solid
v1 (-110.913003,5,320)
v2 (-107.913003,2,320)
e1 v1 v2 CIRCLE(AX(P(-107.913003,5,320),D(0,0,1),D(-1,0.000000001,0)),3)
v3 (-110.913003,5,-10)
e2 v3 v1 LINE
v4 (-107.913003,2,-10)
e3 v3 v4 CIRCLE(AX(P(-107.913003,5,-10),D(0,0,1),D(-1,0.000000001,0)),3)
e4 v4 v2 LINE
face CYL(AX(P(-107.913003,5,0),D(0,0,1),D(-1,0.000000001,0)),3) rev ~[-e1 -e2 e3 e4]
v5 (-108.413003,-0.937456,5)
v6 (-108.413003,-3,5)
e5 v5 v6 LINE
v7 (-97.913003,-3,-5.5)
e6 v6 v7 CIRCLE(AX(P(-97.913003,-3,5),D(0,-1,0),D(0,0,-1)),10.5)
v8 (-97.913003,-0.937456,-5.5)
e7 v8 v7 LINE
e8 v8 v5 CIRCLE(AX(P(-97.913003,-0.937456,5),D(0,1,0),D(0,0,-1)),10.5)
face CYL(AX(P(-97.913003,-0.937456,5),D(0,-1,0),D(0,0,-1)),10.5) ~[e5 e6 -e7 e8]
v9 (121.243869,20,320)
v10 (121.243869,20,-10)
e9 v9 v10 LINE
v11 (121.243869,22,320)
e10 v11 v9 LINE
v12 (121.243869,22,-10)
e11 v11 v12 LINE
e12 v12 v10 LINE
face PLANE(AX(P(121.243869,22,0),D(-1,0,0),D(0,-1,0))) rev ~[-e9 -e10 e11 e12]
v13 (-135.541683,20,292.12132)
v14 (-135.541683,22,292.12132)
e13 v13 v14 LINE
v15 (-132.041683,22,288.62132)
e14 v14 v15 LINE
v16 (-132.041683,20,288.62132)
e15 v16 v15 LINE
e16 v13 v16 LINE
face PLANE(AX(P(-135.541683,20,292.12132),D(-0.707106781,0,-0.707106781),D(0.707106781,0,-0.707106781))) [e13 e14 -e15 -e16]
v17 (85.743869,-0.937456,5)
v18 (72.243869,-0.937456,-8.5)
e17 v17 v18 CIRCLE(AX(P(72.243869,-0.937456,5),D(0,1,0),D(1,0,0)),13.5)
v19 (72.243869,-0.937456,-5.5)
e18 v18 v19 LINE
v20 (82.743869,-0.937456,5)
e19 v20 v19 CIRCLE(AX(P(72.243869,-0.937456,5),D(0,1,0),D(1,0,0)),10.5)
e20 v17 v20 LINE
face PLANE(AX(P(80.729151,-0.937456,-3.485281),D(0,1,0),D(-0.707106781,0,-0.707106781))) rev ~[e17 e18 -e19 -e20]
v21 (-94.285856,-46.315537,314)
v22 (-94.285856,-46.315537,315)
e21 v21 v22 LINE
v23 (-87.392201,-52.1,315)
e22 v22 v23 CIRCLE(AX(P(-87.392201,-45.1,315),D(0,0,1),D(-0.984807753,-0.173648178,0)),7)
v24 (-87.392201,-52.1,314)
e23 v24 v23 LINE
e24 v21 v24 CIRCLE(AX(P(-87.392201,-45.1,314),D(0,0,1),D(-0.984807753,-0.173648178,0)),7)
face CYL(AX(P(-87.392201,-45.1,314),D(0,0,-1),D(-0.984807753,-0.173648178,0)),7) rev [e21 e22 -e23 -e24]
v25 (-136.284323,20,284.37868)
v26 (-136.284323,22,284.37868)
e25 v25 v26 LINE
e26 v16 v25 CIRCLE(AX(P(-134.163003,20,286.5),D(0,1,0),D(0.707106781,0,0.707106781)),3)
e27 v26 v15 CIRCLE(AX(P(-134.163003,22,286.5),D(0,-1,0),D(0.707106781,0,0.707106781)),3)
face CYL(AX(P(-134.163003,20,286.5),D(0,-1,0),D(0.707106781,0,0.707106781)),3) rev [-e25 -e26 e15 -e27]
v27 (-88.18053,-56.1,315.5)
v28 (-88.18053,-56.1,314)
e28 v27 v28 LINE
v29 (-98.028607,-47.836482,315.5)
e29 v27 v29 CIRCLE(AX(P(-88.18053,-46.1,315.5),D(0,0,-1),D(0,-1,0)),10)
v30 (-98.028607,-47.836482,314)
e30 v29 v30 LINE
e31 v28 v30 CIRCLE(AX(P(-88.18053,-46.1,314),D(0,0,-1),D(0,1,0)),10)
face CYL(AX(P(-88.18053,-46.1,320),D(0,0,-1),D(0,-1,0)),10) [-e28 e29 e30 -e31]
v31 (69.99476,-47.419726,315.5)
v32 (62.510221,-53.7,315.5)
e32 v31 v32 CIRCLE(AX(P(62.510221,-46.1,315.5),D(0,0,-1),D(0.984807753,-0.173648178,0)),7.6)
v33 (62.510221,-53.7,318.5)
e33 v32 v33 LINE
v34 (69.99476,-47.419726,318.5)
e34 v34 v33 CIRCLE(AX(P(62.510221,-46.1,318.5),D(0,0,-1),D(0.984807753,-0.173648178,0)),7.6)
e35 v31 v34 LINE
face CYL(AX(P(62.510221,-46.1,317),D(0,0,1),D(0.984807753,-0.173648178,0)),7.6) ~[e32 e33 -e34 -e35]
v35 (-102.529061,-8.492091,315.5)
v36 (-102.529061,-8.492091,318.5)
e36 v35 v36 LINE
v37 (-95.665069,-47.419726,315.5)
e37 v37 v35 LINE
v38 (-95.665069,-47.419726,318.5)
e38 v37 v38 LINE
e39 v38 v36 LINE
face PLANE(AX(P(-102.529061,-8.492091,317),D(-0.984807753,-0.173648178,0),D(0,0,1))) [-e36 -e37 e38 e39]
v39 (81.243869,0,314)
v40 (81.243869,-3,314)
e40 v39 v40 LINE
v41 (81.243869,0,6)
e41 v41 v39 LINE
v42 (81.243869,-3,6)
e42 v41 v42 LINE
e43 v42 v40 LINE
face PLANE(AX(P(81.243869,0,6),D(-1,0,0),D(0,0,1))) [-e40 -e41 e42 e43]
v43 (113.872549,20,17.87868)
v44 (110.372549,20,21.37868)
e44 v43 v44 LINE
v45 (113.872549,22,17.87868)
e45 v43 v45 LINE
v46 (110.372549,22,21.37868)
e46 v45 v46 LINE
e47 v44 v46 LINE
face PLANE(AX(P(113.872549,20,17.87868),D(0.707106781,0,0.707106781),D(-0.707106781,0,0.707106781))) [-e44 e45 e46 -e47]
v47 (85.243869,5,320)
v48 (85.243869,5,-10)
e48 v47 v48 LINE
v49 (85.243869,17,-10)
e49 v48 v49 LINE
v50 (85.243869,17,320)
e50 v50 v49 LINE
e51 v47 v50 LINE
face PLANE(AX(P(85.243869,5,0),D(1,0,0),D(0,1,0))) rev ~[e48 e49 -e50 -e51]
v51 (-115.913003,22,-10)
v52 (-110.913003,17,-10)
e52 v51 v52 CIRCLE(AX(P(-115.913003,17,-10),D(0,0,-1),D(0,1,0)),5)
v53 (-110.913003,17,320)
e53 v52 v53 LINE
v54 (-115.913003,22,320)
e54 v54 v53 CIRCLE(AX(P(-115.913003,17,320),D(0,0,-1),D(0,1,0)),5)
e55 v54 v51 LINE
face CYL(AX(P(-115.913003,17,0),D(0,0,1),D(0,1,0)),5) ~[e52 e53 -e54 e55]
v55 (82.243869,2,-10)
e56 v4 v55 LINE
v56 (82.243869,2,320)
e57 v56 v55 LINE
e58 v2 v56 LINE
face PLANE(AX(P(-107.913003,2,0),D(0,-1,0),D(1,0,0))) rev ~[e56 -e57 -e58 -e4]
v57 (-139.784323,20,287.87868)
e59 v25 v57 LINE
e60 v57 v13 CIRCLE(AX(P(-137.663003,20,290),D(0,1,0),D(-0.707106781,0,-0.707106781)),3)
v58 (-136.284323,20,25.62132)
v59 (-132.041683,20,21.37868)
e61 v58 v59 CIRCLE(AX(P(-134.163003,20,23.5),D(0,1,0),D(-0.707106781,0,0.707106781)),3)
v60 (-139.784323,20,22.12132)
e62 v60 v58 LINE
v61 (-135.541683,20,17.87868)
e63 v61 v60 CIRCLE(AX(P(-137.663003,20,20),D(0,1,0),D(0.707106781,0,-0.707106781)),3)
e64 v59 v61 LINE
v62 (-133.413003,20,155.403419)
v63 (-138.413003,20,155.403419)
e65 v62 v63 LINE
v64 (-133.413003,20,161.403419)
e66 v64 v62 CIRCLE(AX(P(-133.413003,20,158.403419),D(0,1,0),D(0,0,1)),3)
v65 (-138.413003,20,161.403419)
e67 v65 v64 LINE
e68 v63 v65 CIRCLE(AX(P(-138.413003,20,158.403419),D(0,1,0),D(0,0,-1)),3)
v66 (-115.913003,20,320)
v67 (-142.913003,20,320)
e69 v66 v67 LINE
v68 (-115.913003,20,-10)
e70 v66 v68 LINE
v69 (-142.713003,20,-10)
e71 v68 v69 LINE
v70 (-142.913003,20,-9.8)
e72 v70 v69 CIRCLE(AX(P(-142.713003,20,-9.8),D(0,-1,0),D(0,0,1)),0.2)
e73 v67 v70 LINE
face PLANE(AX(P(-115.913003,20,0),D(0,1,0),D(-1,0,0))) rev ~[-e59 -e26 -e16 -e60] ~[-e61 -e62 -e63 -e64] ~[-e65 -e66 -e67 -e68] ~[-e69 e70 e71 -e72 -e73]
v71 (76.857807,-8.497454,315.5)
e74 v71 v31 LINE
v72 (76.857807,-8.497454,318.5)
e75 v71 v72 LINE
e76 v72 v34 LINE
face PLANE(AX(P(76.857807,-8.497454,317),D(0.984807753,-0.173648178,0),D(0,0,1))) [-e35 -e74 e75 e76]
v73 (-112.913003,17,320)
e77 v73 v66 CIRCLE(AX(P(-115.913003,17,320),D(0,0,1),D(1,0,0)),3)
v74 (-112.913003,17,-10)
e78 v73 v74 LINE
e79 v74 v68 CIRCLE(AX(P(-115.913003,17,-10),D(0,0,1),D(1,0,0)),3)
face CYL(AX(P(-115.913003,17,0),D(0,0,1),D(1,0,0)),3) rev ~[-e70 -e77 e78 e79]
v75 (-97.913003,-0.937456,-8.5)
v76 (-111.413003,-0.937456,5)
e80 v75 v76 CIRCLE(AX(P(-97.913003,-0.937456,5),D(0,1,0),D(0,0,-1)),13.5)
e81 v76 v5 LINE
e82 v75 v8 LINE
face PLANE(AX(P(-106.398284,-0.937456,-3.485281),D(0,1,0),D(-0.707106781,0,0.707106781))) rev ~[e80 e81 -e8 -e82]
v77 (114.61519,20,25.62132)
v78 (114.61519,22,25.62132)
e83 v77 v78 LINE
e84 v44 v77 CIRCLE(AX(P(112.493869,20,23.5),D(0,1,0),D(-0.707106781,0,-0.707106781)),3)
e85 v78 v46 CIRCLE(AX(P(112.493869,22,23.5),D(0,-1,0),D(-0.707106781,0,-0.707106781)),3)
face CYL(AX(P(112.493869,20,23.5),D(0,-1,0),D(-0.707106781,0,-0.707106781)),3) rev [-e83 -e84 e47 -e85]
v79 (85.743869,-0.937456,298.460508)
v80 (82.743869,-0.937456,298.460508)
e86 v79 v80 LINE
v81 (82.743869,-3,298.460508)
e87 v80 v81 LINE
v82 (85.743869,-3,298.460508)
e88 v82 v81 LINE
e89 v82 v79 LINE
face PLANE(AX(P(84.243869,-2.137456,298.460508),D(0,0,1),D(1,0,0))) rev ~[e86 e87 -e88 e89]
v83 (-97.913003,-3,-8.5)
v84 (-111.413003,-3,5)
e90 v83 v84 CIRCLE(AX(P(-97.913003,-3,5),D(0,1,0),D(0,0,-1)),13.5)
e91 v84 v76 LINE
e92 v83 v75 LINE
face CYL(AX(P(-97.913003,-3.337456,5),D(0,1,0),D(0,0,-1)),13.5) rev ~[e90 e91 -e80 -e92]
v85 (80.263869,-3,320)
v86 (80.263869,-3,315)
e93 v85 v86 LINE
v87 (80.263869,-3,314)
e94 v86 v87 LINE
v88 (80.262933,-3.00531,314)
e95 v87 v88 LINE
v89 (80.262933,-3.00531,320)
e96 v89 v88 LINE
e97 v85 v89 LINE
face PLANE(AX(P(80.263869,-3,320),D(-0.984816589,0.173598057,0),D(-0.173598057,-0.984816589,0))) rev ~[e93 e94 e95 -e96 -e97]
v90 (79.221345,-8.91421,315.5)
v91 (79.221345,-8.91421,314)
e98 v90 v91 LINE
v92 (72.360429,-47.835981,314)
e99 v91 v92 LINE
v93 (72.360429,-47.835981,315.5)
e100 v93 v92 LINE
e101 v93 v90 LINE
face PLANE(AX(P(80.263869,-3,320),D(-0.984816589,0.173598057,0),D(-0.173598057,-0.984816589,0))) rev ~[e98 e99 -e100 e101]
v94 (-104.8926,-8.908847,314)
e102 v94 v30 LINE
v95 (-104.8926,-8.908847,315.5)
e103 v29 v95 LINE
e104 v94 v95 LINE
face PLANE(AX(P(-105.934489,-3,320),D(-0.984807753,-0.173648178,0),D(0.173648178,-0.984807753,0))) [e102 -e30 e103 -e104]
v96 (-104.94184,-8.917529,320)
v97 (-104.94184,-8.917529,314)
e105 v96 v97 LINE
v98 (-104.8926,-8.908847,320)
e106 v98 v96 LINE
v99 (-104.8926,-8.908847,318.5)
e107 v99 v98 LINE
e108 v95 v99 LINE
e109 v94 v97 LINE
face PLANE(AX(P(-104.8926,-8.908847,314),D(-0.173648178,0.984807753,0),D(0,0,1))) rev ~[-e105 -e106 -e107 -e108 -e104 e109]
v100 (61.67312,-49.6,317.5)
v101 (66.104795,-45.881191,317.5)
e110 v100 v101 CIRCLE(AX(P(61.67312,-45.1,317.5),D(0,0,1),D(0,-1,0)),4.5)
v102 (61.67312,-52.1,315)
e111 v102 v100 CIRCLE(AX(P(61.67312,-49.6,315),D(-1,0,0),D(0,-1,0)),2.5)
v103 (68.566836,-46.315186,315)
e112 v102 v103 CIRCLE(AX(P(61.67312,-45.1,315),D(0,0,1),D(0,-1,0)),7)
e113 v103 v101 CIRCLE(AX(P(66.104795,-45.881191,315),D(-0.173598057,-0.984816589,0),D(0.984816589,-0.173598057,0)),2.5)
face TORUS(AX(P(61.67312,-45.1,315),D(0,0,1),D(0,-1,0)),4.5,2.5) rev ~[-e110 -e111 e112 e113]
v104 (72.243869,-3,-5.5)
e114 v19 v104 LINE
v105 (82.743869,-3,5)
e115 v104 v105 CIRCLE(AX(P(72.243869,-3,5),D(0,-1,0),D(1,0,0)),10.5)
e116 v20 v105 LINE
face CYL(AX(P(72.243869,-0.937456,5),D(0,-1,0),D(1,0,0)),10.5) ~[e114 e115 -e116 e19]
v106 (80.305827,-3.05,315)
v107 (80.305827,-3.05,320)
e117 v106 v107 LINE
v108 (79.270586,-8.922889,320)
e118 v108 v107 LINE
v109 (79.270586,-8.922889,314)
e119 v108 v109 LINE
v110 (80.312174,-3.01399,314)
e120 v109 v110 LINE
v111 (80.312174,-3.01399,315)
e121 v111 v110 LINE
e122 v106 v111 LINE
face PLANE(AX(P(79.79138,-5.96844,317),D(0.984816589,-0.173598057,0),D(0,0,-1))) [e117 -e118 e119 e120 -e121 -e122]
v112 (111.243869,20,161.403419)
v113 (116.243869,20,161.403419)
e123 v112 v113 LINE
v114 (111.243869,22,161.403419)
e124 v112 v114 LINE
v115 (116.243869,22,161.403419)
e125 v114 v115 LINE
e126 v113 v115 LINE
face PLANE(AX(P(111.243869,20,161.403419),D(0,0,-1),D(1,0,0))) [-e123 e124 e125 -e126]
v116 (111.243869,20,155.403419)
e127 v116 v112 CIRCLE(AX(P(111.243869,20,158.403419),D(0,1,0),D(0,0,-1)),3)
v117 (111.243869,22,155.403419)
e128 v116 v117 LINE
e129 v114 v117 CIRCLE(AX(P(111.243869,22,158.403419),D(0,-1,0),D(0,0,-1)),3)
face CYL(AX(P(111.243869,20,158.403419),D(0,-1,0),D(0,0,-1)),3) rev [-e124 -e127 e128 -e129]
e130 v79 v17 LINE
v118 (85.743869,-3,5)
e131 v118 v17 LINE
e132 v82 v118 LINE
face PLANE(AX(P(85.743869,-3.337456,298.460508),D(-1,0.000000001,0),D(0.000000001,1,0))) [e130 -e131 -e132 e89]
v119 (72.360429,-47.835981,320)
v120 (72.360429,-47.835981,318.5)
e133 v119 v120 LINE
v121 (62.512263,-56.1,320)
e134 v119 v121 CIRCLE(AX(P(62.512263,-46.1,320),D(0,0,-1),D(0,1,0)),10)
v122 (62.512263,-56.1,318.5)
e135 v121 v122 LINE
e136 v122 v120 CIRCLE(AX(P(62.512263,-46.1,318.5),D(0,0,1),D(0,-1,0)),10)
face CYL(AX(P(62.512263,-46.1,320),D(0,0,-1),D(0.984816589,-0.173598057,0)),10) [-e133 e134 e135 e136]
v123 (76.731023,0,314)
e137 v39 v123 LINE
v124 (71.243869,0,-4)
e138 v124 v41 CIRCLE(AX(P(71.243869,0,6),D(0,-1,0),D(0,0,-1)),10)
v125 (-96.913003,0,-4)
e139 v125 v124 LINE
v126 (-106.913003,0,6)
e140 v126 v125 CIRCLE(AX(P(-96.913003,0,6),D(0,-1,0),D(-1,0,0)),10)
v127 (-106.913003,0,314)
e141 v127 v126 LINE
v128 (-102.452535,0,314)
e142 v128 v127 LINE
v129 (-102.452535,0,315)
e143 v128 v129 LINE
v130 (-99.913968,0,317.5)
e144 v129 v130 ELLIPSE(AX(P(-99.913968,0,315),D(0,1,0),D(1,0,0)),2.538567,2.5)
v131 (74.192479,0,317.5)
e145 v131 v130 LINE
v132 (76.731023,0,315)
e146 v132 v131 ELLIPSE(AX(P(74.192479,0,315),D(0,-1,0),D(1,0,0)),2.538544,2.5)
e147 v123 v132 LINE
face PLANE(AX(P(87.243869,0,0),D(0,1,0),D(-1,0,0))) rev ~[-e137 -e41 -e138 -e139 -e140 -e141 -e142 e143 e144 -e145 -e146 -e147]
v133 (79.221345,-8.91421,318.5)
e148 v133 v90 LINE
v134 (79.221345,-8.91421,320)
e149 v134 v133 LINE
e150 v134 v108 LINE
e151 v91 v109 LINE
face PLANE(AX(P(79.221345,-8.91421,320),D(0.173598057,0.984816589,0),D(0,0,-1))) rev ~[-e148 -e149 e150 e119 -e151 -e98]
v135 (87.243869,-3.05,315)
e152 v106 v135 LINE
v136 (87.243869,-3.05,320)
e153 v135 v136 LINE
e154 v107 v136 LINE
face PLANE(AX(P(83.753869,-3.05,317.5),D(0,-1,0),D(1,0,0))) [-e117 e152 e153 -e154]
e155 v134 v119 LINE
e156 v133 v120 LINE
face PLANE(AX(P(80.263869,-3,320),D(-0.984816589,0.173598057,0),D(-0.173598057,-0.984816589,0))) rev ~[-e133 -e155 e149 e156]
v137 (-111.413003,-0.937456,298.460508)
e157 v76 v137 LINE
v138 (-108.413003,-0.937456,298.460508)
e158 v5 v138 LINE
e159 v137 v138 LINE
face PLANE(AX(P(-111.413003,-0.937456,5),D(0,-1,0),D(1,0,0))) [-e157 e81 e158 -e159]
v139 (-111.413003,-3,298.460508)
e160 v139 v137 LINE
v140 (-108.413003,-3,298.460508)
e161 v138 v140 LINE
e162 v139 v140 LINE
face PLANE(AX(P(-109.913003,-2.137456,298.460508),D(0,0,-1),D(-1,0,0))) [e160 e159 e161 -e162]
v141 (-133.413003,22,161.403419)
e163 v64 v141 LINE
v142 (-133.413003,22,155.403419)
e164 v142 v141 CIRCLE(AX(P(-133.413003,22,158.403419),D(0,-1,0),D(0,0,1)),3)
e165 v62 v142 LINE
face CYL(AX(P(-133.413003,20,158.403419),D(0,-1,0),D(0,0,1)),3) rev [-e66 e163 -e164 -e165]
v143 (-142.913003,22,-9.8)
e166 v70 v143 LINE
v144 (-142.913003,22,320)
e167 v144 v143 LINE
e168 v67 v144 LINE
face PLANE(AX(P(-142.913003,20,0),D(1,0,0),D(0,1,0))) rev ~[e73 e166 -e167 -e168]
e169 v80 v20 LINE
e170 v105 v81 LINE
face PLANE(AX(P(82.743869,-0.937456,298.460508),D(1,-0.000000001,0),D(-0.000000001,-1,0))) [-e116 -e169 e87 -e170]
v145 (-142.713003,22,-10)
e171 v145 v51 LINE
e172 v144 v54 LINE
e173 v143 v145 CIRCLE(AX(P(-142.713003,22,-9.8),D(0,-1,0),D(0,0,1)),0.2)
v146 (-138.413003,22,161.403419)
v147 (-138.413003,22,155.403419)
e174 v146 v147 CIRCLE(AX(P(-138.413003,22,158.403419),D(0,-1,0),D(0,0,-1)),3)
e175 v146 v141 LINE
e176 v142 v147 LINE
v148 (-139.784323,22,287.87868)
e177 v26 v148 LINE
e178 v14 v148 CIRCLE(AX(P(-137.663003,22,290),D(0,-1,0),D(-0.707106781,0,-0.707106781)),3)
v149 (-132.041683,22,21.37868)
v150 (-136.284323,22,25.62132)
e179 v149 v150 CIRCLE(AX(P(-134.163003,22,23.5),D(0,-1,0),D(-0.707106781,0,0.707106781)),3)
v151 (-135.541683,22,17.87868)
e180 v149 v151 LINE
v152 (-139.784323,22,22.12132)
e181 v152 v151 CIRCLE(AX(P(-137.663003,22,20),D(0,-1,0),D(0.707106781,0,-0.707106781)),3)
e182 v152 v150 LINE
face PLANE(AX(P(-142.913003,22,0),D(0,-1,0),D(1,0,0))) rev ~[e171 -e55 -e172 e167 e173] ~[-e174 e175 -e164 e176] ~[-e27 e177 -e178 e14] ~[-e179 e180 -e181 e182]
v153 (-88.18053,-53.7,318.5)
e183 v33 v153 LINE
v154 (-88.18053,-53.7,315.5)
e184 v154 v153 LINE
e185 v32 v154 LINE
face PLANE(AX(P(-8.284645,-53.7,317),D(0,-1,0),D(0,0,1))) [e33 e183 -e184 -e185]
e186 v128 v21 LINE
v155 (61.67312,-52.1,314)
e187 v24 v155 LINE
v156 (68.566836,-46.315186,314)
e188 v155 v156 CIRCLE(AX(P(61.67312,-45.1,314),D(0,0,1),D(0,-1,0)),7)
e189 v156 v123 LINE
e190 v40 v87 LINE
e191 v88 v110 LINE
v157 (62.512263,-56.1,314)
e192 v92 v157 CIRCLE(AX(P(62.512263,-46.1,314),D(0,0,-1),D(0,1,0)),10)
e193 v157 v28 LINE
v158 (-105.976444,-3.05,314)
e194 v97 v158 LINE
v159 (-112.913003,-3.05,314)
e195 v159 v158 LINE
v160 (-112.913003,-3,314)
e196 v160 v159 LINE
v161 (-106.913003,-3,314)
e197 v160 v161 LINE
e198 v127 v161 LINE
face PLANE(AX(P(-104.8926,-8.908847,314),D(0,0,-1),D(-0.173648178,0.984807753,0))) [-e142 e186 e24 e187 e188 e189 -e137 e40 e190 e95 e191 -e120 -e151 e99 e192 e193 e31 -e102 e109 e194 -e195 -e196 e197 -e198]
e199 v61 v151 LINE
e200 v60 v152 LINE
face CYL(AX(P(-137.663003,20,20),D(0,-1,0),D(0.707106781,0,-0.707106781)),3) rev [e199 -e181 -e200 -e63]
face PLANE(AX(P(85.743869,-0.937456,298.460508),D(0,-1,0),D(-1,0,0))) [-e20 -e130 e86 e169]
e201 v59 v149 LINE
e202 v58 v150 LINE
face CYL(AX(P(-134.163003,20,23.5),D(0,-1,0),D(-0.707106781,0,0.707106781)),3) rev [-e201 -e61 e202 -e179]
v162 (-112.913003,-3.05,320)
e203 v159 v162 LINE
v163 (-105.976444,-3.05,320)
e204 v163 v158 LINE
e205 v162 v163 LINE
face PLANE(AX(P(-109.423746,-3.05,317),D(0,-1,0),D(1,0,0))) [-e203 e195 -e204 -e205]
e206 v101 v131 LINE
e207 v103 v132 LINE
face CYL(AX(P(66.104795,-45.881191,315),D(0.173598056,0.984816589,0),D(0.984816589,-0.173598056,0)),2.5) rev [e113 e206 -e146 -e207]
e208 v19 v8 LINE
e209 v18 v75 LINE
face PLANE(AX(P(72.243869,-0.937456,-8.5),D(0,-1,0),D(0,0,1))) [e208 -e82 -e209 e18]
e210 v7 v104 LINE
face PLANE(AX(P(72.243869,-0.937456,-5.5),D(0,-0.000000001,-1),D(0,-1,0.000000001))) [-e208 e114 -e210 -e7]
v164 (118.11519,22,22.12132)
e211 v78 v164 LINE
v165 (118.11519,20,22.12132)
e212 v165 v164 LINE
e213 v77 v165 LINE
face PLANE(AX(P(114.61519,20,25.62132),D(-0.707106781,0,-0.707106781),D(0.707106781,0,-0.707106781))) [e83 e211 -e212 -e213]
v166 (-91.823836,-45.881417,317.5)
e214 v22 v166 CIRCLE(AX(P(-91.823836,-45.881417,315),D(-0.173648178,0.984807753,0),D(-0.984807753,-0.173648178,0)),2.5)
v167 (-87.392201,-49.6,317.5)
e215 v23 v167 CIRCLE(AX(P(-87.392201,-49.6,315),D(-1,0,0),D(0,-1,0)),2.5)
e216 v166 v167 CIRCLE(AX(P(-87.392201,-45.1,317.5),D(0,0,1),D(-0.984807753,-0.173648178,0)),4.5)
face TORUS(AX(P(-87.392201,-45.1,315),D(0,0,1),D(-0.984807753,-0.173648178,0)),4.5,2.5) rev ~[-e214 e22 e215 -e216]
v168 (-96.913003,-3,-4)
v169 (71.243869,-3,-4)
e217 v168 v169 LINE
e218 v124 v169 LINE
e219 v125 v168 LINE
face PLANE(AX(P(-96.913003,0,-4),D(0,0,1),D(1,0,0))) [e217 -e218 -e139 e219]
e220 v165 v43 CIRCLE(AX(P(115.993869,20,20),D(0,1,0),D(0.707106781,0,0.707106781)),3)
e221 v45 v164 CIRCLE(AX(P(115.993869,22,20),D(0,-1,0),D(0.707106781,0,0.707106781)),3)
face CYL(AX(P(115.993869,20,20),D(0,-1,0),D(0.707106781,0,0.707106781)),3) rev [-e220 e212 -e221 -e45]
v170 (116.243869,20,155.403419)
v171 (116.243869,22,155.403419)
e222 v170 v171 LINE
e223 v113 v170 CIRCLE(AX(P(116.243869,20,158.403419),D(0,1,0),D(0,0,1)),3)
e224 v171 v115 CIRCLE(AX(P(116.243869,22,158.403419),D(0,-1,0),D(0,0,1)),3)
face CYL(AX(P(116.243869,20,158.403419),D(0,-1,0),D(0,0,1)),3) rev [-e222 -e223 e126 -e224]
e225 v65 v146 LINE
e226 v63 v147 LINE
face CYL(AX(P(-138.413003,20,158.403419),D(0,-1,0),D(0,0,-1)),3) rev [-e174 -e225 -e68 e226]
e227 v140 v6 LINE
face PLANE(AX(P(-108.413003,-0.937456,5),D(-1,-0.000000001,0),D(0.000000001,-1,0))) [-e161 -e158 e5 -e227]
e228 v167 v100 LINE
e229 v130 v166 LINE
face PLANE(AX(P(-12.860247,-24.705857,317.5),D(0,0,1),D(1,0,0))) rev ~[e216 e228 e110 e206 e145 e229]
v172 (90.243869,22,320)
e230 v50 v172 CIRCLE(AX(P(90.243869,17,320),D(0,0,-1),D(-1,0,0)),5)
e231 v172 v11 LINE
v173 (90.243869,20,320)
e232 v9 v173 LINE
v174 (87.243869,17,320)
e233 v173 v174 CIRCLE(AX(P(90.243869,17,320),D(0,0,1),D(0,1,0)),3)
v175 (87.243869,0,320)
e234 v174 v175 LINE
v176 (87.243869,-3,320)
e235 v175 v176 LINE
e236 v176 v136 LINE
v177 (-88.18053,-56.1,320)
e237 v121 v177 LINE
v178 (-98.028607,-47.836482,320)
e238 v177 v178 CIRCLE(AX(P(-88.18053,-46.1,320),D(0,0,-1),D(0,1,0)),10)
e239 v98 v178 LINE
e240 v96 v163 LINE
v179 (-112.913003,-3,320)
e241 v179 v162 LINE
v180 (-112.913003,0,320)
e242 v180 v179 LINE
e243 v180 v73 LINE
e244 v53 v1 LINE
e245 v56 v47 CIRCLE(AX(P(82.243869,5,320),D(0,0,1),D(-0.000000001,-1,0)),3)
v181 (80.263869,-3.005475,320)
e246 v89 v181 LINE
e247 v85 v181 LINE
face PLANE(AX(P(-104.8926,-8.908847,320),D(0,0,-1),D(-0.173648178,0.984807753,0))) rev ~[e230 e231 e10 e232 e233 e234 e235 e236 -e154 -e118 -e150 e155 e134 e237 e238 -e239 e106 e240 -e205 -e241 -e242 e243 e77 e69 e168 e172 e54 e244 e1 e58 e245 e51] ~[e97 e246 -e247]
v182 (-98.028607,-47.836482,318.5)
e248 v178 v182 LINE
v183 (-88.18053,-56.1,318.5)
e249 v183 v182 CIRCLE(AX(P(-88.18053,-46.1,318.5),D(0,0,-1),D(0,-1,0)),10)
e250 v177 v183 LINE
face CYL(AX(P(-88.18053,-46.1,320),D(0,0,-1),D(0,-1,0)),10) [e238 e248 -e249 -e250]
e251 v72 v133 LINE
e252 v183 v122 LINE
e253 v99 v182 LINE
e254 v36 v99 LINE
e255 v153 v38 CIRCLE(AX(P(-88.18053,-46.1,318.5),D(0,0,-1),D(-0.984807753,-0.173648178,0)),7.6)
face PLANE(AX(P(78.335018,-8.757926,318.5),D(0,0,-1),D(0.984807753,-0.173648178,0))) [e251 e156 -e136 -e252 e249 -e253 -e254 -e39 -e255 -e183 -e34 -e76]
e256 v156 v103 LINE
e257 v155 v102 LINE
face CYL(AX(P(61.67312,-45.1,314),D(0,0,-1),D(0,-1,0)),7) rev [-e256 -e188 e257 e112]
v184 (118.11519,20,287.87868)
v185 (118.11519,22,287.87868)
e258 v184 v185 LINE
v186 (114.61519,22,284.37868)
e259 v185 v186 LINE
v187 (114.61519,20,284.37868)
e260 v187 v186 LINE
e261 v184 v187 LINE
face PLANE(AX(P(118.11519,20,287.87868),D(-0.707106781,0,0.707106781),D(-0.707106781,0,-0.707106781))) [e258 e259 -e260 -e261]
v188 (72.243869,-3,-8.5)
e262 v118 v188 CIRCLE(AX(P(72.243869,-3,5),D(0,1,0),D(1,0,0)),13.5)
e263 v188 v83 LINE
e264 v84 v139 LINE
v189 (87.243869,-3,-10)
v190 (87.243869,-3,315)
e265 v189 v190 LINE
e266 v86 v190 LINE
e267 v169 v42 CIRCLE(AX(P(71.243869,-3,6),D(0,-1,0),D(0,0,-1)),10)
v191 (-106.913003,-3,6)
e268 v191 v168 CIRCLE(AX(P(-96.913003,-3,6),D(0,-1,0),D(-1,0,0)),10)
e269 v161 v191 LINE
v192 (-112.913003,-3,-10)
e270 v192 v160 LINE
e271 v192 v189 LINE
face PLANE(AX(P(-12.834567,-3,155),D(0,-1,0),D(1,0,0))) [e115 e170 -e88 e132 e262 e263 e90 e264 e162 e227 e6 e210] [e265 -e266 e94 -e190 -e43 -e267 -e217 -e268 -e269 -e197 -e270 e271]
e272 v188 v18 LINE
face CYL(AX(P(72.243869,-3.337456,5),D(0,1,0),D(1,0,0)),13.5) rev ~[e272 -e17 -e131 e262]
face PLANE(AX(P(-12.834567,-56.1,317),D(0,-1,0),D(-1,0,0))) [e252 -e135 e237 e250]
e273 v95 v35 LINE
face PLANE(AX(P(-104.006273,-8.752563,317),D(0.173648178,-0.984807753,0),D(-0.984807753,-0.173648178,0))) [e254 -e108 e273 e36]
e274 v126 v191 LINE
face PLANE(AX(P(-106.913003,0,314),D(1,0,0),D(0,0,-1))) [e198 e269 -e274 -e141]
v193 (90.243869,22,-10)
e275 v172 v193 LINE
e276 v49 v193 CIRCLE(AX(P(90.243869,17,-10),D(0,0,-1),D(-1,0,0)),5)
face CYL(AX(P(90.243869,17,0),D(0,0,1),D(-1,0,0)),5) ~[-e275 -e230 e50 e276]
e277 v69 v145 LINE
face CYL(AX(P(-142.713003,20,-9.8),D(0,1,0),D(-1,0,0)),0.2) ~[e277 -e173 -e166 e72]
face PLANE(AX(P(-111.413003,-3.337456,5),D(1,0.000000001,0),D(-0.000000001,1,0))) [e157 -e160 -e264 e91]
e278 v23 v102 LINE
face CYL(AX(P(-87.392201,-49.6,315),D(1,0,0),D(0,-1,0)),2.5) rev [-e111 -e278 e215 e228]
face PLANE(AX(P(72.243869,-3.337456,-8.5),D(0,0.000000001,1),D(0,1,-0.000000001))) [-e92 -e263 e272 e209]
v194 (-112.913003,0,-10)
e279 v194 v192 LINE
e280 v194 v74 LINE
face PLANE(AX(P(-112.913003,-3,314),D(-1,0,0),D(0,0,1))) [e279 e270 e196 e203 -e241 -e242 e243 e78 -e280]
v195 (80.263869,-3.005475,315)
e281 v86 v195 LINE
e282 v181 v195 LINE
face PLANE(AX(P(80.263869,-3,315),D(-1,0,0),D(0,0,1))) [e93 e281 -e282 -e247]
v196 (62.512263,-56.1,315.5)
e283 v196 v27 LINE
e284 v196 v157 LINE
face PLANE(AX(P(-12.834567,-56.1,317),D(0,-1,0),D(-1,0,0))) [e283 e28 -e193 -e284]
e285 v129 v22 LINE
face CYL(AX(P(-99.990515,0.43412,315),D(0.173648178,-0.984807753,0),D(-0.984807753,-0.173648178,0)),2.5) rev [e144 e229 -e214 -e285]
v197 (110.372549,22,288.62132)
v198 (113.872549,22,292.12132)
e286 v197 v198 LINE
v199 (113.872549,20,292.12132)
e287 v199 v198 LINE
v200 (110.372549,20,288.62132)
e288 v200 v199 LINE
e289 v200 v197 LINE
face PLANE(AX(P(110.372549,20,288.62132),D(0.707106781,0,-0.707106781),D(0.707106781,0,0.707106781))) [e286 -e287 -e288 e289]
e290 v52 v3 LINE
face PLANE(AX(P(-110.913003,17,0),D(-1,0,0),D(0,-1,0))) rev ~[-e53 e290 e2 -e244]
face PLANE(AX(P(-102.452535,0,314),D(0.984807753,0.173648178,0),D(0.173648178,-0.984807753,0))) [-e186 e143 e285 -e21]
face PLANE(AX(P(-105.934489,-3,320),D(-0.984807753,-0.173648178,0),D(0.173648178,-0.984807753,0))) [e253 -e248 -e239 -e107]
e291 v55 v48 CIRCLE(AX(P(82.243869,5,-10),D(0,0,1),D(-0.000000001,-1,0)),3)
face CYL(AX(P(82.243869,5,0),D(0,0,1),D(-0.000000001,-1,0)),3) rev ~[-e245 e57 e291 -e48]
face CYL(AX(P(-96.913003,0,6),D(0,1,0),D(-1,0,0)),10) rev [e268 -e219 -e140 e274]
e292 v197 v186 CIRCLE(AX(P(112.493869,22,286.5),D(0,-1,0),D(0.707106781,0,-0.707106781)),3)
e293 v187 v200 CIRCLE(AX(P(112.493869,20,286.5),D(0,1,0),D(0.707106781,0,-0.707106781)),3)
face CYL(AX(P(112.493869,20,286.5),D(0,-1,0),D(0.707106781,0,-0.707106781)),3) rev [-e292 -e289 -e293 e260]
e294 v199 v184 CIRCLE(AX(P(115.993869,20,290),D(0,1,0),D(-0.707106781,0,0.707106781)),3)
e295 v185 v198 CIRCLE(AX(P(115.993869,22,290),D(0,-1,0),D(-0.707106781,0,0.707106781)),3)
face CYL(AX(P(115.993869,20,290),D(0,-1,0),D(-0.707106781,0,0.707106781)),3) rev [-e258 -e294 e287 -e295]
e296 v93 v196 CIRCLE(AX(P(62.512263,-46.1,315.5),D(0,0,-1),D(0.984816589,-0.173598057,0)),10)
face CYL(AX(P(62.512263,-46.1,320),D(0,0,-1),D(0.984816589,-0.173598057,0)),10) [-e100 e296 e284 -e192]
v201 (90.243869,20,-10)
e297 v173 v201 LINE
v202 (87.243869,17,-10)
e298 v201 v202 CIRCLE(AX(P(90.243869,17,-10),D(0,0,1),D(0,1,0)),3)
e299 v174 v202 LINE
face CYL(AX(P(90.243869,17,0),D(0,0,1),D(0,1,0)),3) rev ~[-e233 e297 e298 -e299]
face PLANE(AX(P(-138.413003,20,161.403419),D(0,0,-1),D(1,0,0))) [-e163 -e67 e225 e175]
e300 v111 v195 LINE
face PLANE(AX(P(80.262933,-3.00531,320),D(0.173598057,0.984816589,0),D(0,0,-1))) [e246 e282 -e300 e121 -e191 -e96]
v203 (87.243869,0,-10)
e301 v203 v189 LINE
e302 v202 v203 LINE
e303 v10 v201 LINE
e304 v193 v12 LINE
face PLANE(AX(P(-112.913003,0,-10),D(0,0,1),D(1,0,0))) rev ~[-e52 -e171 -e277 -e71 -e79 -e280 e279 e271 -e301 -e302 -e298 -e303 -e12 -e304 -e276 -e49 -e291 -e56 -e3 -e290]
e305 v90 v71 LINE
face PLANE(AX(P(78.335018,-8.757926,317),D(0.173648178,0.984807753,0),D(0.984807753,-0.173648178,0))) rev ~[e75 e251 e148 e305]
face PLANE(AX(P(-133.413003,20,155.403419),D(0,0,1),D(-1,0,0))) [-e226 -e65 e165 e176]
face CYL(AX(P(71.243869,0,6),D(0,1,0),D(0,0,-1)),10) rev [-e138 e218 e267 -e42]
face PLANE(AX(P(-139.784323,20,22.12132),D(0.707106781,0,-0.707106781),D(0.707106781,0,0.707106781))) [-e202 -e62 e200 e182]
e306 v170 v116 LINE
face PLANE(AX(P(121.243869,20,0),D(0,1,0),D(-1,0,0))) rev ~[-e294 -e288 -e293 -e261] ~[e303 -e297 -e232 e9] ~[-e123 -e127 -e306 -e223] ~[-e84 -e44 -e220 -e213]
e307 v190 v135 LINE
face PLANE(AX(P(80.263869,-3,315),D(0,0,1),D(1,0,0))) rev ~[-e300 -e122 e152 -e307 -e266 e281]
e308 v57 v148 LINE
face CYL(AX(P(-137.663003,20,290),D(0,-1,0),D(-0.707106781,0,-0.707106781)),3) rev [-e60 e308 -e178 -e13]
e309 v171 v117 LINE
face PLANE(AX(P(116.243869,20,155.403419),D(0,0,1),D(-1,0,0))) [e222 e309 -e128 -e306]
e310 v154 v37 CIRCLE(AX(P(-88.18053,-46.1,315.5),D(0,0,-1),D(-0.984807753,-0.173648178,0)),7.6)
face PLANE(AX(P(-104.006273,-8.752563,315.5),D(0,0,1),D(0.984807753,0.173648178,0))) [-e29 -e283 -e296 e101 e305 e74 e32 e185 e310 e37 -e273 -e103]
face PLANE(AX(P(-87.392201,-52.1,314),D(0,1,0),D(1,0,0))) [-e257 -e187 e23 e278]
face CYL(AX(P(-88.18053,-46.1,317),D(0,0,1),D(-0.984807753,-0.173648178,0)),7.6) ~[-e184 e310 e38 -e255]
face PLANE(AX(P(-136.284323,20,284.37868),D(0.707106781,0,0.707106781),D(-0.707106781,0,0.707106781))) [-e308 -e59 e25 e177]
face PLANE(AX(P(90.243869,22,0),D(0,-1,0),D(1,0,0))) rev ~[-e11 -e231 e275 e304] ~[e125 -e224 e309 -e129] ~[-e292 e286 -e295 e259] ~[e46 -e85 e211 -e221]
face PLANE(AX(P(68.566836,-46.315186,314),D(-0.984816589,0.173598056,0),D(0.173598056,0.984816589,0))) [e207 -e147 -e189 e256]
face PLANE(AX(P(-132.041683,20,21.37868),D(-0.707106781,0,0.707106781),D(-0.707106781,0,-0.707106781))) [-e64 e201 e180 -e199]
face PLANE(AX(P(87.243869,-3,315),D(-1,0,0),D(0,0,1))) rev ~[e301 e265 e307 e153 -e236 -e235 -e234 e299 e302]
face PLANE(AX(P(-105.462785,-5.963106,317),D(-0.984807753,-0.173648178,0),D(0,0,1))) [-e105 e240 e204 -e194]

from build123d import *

# Parameters (mm, degrees)
BOSS_EXTRU_1_DEPTH       = 320
BOSS_EXTRU_1_DEPTH_BACK  = 10
ENL_V_MAT_EXTRU_1_DEPTH  = 300
ESQUISSE3_W              = 196.156872589
ESQUISSE3_H              = 6
BOSS_EXTRU_2_DEPTH       = 56.1
ESQUISSE41_W             = 200.156872589
ESQUISSE41_H             = 330
BOSS_EXTRU_9_DEPTH       = 3
ENL_V_MAT_EXTRU_22_DEPTH = 6
CONG_8_R                 = 10
CONG_7_R                 = 0.2
ESQUISSE43_W             = 6.98
ESQUISSE43_H             = 5
BOSS_EXTRU_10_DEPTH      = 0.05
ESQUISSE44_W             = 6
ESQUISSE44_H             = 6
BOSS_EXTRU_11_DEPTH      = 0.05
ESQUISSE45_W             = 6.978514333
ESQUISSE45_H             = 6
BOSS_EXTRU_12_DEPTH      = 0.05
ESQUISSE46_W             = 6
ESQUISSE46_H             = 6
BOSS_EXTRU_13_DEPTH      = 0.05
ENL_V_MAT_EXTRU_23_DEPTH = 3.5
CONG_11_R                = 2.5
ESQUISSE48_W             = 3
ESQUISSE48_H             = 3


with BuildPart() as part:
    # Esquisse1 → Boss.-Extru.1 (new body, two sides)
    with BuildSketch(Plane.XY) as boss_extru_1_sk:
        with BuildLine():
            Line((-107.913003101, 2), (82.243869488, 2))
            ThreePointArc((82.243869488, 2), (84.365189832, 2.878679656), (85.243869488, 5))
            Line((85.243869488, 5), (85.243869488, 17))
            ThreePointArc((85.243869488, 17), (86.708335582, 20.535533906), (90.243869488, 22))
            Line((90.243869488, 22), (116.243869488, 22))
            Line((116.243869488, 22), (121.243869488, 22))
            Line((121.243869488, 22), (121.243869488, 20))
            Line((121.243869488, 20), (116.243869488, 20))
            Line((116.243869488, 20), (90.243869488, 20))
            ThreePointArc((90.243869488, 20), (88.122549145, 19.121320344), (87.243869488, 17))
            Line((87.243869488, 17), (87.243869488, 0))
            Line((87.243869488, 0), (-112.913003101, 0))
            Line((-112.913003101, 0), (-112.913003101, 17))
            ThreePointArc((-112.913003101, 17), (-113.791682758, 19.121320344), (-115.913003101, 20))
            Line((-115.913003101, 20), (-137.913003101, 20))
            Line((-137.913003101, 20), (-142.913003101, 20))
            Line((-142.913003101, 20), (-142.913003101, 22))
            Line((-142.913003101, 22), (-137.913003101, 22))
            Line((-137.913003101, 22), (-115.913003101, 22))
            ThreePointArc((-115.913003101, 22), (-112.377469195, 20.535533906), (-110.913003101, 17))
            Line((-110.913003101, 17), (-110.913003101, 5))
            ThreePointArc((-110.913003101, 5), (-110.034323445, 2.878679656), (-107.913003101, 2))
        make_face()
    extrude(amount=BOSS_EXTRU_1_DEPTH)
    extrude(boss_extru_1_sk.sketch, amount=-BOSS_EXTRU_1_DEPTH_BACK)

    # Esquisse2 → Enlèv. mat.-Extru.1 (cut)
    with BuildSketch(Plane.XZ.offset(-20)):
        with BuildLine():
            Line((-139.784323445, 22.121320344), (-136.284323445, 25.621320344))
            ThreePointArc((-136.284323445, 25.621320344), (-132.041682758, 25.621320344), (-132.041682758, 21.378679656))
            Line((-132.041682758, 21.378679656), (-135.541682758, 17.878679656))
            ThreePointArc((-135.541682758, 17.878679656), (-139.784323445, 17.878679656), (-139.784323445, 22.121320344))
        make_face()
        with BuildLine():
            Line((-136.284323445, 284.378679656), (-139.784323445, 287.878679656))
            ThreePointArc((-139.784323445, 287.878679656), (-139.784323445, 292.121320344), (-135.541682758, 292.121320344))
            Line((-135.541682758, 292.121320344), (-132.041682758, 288.621320344))
            ThreePointArc((-132.041682758, 288.621320344), (-132.041682758, 284.378679656), (-136.284323445, 284.378679656))
        make_face()
        with BuildLine():
            Line((118.115189832, 287.878679656), (114.615189832, 284.378679656))
            ThreePointArc((114.615189832, 284.378679656), (110.372549145, 284.378679656), (110.372549145, 288.621320344))
            Line((110.372549145, 288.621320344), (113.872549145, 292.121320344))
            ThreePointArc((113.872549145, 292.121320344), (118.115189832, 292.121320344), (118.115189832, 287.878679656))
        make_face()
        with BuildLine():
            Line((114.615189832, 25.621320344), (118.115189832, 22.121320344))
            ThreePointArc((118.115189832, 22.121320344), (118.115189832, 17.878679656), (113.872549145, 17.878679656))
            Line((113.872549145, 17.878679656), (110.372549145, 21.378679656))
            ThreePointArc((110.372549145, 21.378679656), (110.372549145, 25.621320344), (114.615189832, 25.621320344))
        make_face()
        with BuildLine():
            Line((116.243869488, 155.403419264), (111.243869488, 155.403419264))
            ThreePointArc((111.243869488, 155.403419264), (108.243869488, 158.403419264), (111.243869488, 161.403419264))
            Line((111.243869488, 161.403419264), (116.243869488, 161.403419264))
            ThreePointArc((116.243869488, 161.403419264), (119.243869488, 158.403419264), (116.243869488, 155.403419264))
        make_face()
        with BuildLine():
            Line((-138.413003101, 161.403419264), (-133.413003101, 161.403419264))
            ThreePointArc((-133.413003101, 161.403419264), (-130.413003101, 158.403419264), (-133.413003101, 155.403419264))
            Line((-133.413003101, 155.403419264), (-138.413003101, 155.403419264))
            ThreePointArc((-138.413003101, 155.403419264), (-141.413003101, 158.403419264), (-138.413003101, 161.403419264))
        make_face()
    extrude(amount=-ENL_V_MAT_EXTRU_1_DEPTH, mode=Mode.SUBTRACT)

    # Esquisse3 → Boss.-Extru.2 (add)
    with BuildSketch(Plane(origin=(0, 0, 0), x_dir=(-1, 0, 0), z_dir=(0, -1, 0))):
        with Locations((12.834566806, -317)):
            Rectangle(ESQUISSE3_W, ESQUISSE3_H)
    extrude(amount=BOSS_EXTRU_2_DEPTH)

    # Esquisse41 → Boss.-Extru.9 (add)
    with BuildSketch(Plane.XZ):
        with Locations((-12.834566806, 155)):
            Rectangle(ESQUISSE41_W, ESQUISSE41_H)
        with BuildLine():
            Line((81.243869488, 314), (-106.913003101, 314))
            Line((-106.913003101, 314), (-106.913003101, 6))
            ThreePointArc((-106.913003101, 6), (-103.984070913, -1.071067812), (-96.913003101, -4))
            Line((-96.913003101, -4), (71.243869488, -4))
            ThreePointArc((71.243869488, -4), (78.3149373, -1.071067812), (81.243869488, 6))
            Line((81.243869488, 6), (81.243869488, 314))
        make_face(mode=Mode.SUBTRACT)
    extrude(amount=BOSS_EXTRU_9_DEPTH)

    # Esquisse24 → Enlèv. mat.-Extru.22 (cut)
    with BuildSketch(Plane.XY.offset(320)):
        Polygon((80.263869488, -3), (69.213869488, -65.686319951), (85.243869488, -65.686319951), (85.243869488, -3), align=None)
        Polygon((-105.934488768, -3), (-94.881199239, -65.686319951), (-110.913003101, -65.686319951), (-110.913003101, -3), align=None)
    extrude(amount=-ENL_V_MAT_EXTRU_22_DEPTH, mode=Mode.SUBTRACT)

    # Congé8
    cong_8_edges = [part.edges().sort_by_distance(p)[0] for p in [
        (-96.571526093, -56.1, 317),
        (70.903693289, -56.1, 317),
    ]]
    fillet(cong_8_edges, radius=CONG_8_R)

    # Congé7
    cong_7_edges = [part.edges().sort_by_distance(p)[0] for p in [
        (-142.913003101, 21, -10),
    ]]
    fillet(cong_7_edges, radius=CONG_7_R)

    # Esquisse43 → Boss.-Extru.10 (add)
    with BuildSketch(Plane.XZ.offset(3)):
        with Locations((83.753869488, 317.5)):
            Rectangle(ESQUISSE43_W, ESQUISSE43_H)
    extrude(amount=BOSS_EXTRU_10_DEPTH)

    # Esquisse44 → Boss.-Extru.11 (add)
    with BuildSketch(Plane(origin=(78.357901362, -13.812500251, 0), x_dir=(0, 0, -1), z_dir=(0.984816589, -0.173598057, 0))):
        with Locations((-317, 7.973810121)):
            Rectangle(ESQUISSE44_W, ESQUISSE44_H)
    extrude(amount=BOSS_EXTRU_11_DEPTH)

    # Esquisse45 → Boss.-Extru.12 (add)
    with BuildSketch(Plane.XZ.offset(3)):
        with Locations((-109.423745935, 317)):
            Rectangle(ESQUISSE45_W, ESQUISSE45_H)
    extrude(amount=BOSS_EXTRU_12_DEPTH)

    # Esquisse46 → Boss.-Extru.13 (add)
    with BuildSketch(Plane(origin=(-103.25320329, -18.206325585, 0), x_dir=(0, 0, 1), z_dir=(-0.984807753, -0.173648178, 0))):
        with Locations((317, 12.440907668)):
            Rectangle(ESQUISSE46_W, ESQUISSE46_H)
    extrude(amount=BOSS_EXTRU_13_DEPTH)

    # Enlèvement de matière-Balayage1: sweep along a path in Esquisse47
    with BuildLine(Plane.XZ.offset(3)) as enl_vement_de_mati_re_balayage1_path:
        Line((84.243869488, 298.46050791), (84.243869488, 5))
        ThreePointArc((84.243869488, 5), (80.729150862, -3.485281374), (72.243869488, -7))
        Line((72.243869488, -7), (-97.913003101, -7))
        ThreePointArc((-97.913003101, -7), (-106.398284476, -3.485281374), (-109.913003101, 5))
        Line((-109.913003101, 5), (-109.913003101, 298.46050791))
    # Esquisse3D1 → Enlèvement de matière-Balayage1 (sweep, cut)
    with BuildSketch(Plane(origin=(-48.798071116, -0.937456497, -5.5), x_dir=(0, -0.624695048, -0.780868809), z_dir=(1, 0, 0))):
        Polygon((0, 0), (1.499268114, -1.874085143), (3.841874542, 0), (2.342606428, 1.874085143), align=None)
    sweep(path=enl_vement_de_mati_re_balayage1_path.line, mode=Mode.SUBTRACT)

    # Esquisse50 → Enlèv. mat.-Extru.23 (cut)
    with BuildSketch(Plane(origin=(0, 0, 314), x_dir=(-1, 0, 0), z_dir=(0, 0, -1))):
        with BuildLine():
            Line((87.39220148, -52.1), (-61.673120332, -52.1))
            ThreePointArc((-61.673120332, -52.1), (-66.172770053, -50.462196601), (-68.566836458, -46.315186396))
            Line((-68.566836458, -46.315186396), (-76.731022999, 0))
            Line((-76.731022999, 0), (102.452534593, 0))
            Line((102.452534593, 0), (94.285855751, -46.315537244))
            ThreePointArc((94.285855751, -46.315537244), (91.891714748, -50.462311102), (87.39220148, -52.1))
        make_face()
    extrude(amount=-ENL_V_MAT_EXTRU_23_DEPTH, mode=Mode.SUBTRACT)

    # Congé11
    cong_11_edges = [part.edges().sort_by_distance(p)[0] for p in [
        (-98.369195172, -23.157768622, 317.5),
        (-91.891714748, -50.462311102, 317.5),
        (-12.859540574, -52.1, 317.5),
        (66.172770053, -50.462196601, 317.5),
        (72.648929728, -23.157593198, 317.5),
    ]]
    fillet(cong_11_edges, radius=CONG_11_R)

    # Enlèvement de matière-Balayage2: sweep along a curve in space
    with BuildLine() as enl_vement_de_mati_re_balayage2_path:
        Line((79.221345133, -8.914209531, 317), (72.358298385, -47.836481777, 317))
        ThreePointArc((72.358298385, -47.836481777, 317), (68.938096952, -53.760444431, 317), (62.510220855, -56.1, 317))
        Line((-8.284645145, -56.1, 317), (62.510220855, -56.1, 317))
        Line((-8.284645145, -56.1, 317), (-88.180529781, -56.1, 317))
        ThreePointArc((-98.028607311, -47.836481777, 317), (-94.608405878, -53.760444431, 317), (-88.180529781, -56.1, 317))
        Line((-104.892599702, -8.908846518, 317), (-98.028607311, -47.836481777, 317))
    # Esquisse48 → Enlèvement de matière-Balayage2 (sweep, cut)
    with BuildSketch(Plane(origin=(0, 0, 0), x_dir=(0, 0, -1), z_dir=(1, 0, 0))):
        with Locations((-317, -55.2)):
            Rectangle(ESQUISSE48_W, ESQUISSE48_H)
    sweep(path=enl_vement_de_mati_re_balayage2_path.line, mode=Mode.SUBTRACT)


solid = part.part
